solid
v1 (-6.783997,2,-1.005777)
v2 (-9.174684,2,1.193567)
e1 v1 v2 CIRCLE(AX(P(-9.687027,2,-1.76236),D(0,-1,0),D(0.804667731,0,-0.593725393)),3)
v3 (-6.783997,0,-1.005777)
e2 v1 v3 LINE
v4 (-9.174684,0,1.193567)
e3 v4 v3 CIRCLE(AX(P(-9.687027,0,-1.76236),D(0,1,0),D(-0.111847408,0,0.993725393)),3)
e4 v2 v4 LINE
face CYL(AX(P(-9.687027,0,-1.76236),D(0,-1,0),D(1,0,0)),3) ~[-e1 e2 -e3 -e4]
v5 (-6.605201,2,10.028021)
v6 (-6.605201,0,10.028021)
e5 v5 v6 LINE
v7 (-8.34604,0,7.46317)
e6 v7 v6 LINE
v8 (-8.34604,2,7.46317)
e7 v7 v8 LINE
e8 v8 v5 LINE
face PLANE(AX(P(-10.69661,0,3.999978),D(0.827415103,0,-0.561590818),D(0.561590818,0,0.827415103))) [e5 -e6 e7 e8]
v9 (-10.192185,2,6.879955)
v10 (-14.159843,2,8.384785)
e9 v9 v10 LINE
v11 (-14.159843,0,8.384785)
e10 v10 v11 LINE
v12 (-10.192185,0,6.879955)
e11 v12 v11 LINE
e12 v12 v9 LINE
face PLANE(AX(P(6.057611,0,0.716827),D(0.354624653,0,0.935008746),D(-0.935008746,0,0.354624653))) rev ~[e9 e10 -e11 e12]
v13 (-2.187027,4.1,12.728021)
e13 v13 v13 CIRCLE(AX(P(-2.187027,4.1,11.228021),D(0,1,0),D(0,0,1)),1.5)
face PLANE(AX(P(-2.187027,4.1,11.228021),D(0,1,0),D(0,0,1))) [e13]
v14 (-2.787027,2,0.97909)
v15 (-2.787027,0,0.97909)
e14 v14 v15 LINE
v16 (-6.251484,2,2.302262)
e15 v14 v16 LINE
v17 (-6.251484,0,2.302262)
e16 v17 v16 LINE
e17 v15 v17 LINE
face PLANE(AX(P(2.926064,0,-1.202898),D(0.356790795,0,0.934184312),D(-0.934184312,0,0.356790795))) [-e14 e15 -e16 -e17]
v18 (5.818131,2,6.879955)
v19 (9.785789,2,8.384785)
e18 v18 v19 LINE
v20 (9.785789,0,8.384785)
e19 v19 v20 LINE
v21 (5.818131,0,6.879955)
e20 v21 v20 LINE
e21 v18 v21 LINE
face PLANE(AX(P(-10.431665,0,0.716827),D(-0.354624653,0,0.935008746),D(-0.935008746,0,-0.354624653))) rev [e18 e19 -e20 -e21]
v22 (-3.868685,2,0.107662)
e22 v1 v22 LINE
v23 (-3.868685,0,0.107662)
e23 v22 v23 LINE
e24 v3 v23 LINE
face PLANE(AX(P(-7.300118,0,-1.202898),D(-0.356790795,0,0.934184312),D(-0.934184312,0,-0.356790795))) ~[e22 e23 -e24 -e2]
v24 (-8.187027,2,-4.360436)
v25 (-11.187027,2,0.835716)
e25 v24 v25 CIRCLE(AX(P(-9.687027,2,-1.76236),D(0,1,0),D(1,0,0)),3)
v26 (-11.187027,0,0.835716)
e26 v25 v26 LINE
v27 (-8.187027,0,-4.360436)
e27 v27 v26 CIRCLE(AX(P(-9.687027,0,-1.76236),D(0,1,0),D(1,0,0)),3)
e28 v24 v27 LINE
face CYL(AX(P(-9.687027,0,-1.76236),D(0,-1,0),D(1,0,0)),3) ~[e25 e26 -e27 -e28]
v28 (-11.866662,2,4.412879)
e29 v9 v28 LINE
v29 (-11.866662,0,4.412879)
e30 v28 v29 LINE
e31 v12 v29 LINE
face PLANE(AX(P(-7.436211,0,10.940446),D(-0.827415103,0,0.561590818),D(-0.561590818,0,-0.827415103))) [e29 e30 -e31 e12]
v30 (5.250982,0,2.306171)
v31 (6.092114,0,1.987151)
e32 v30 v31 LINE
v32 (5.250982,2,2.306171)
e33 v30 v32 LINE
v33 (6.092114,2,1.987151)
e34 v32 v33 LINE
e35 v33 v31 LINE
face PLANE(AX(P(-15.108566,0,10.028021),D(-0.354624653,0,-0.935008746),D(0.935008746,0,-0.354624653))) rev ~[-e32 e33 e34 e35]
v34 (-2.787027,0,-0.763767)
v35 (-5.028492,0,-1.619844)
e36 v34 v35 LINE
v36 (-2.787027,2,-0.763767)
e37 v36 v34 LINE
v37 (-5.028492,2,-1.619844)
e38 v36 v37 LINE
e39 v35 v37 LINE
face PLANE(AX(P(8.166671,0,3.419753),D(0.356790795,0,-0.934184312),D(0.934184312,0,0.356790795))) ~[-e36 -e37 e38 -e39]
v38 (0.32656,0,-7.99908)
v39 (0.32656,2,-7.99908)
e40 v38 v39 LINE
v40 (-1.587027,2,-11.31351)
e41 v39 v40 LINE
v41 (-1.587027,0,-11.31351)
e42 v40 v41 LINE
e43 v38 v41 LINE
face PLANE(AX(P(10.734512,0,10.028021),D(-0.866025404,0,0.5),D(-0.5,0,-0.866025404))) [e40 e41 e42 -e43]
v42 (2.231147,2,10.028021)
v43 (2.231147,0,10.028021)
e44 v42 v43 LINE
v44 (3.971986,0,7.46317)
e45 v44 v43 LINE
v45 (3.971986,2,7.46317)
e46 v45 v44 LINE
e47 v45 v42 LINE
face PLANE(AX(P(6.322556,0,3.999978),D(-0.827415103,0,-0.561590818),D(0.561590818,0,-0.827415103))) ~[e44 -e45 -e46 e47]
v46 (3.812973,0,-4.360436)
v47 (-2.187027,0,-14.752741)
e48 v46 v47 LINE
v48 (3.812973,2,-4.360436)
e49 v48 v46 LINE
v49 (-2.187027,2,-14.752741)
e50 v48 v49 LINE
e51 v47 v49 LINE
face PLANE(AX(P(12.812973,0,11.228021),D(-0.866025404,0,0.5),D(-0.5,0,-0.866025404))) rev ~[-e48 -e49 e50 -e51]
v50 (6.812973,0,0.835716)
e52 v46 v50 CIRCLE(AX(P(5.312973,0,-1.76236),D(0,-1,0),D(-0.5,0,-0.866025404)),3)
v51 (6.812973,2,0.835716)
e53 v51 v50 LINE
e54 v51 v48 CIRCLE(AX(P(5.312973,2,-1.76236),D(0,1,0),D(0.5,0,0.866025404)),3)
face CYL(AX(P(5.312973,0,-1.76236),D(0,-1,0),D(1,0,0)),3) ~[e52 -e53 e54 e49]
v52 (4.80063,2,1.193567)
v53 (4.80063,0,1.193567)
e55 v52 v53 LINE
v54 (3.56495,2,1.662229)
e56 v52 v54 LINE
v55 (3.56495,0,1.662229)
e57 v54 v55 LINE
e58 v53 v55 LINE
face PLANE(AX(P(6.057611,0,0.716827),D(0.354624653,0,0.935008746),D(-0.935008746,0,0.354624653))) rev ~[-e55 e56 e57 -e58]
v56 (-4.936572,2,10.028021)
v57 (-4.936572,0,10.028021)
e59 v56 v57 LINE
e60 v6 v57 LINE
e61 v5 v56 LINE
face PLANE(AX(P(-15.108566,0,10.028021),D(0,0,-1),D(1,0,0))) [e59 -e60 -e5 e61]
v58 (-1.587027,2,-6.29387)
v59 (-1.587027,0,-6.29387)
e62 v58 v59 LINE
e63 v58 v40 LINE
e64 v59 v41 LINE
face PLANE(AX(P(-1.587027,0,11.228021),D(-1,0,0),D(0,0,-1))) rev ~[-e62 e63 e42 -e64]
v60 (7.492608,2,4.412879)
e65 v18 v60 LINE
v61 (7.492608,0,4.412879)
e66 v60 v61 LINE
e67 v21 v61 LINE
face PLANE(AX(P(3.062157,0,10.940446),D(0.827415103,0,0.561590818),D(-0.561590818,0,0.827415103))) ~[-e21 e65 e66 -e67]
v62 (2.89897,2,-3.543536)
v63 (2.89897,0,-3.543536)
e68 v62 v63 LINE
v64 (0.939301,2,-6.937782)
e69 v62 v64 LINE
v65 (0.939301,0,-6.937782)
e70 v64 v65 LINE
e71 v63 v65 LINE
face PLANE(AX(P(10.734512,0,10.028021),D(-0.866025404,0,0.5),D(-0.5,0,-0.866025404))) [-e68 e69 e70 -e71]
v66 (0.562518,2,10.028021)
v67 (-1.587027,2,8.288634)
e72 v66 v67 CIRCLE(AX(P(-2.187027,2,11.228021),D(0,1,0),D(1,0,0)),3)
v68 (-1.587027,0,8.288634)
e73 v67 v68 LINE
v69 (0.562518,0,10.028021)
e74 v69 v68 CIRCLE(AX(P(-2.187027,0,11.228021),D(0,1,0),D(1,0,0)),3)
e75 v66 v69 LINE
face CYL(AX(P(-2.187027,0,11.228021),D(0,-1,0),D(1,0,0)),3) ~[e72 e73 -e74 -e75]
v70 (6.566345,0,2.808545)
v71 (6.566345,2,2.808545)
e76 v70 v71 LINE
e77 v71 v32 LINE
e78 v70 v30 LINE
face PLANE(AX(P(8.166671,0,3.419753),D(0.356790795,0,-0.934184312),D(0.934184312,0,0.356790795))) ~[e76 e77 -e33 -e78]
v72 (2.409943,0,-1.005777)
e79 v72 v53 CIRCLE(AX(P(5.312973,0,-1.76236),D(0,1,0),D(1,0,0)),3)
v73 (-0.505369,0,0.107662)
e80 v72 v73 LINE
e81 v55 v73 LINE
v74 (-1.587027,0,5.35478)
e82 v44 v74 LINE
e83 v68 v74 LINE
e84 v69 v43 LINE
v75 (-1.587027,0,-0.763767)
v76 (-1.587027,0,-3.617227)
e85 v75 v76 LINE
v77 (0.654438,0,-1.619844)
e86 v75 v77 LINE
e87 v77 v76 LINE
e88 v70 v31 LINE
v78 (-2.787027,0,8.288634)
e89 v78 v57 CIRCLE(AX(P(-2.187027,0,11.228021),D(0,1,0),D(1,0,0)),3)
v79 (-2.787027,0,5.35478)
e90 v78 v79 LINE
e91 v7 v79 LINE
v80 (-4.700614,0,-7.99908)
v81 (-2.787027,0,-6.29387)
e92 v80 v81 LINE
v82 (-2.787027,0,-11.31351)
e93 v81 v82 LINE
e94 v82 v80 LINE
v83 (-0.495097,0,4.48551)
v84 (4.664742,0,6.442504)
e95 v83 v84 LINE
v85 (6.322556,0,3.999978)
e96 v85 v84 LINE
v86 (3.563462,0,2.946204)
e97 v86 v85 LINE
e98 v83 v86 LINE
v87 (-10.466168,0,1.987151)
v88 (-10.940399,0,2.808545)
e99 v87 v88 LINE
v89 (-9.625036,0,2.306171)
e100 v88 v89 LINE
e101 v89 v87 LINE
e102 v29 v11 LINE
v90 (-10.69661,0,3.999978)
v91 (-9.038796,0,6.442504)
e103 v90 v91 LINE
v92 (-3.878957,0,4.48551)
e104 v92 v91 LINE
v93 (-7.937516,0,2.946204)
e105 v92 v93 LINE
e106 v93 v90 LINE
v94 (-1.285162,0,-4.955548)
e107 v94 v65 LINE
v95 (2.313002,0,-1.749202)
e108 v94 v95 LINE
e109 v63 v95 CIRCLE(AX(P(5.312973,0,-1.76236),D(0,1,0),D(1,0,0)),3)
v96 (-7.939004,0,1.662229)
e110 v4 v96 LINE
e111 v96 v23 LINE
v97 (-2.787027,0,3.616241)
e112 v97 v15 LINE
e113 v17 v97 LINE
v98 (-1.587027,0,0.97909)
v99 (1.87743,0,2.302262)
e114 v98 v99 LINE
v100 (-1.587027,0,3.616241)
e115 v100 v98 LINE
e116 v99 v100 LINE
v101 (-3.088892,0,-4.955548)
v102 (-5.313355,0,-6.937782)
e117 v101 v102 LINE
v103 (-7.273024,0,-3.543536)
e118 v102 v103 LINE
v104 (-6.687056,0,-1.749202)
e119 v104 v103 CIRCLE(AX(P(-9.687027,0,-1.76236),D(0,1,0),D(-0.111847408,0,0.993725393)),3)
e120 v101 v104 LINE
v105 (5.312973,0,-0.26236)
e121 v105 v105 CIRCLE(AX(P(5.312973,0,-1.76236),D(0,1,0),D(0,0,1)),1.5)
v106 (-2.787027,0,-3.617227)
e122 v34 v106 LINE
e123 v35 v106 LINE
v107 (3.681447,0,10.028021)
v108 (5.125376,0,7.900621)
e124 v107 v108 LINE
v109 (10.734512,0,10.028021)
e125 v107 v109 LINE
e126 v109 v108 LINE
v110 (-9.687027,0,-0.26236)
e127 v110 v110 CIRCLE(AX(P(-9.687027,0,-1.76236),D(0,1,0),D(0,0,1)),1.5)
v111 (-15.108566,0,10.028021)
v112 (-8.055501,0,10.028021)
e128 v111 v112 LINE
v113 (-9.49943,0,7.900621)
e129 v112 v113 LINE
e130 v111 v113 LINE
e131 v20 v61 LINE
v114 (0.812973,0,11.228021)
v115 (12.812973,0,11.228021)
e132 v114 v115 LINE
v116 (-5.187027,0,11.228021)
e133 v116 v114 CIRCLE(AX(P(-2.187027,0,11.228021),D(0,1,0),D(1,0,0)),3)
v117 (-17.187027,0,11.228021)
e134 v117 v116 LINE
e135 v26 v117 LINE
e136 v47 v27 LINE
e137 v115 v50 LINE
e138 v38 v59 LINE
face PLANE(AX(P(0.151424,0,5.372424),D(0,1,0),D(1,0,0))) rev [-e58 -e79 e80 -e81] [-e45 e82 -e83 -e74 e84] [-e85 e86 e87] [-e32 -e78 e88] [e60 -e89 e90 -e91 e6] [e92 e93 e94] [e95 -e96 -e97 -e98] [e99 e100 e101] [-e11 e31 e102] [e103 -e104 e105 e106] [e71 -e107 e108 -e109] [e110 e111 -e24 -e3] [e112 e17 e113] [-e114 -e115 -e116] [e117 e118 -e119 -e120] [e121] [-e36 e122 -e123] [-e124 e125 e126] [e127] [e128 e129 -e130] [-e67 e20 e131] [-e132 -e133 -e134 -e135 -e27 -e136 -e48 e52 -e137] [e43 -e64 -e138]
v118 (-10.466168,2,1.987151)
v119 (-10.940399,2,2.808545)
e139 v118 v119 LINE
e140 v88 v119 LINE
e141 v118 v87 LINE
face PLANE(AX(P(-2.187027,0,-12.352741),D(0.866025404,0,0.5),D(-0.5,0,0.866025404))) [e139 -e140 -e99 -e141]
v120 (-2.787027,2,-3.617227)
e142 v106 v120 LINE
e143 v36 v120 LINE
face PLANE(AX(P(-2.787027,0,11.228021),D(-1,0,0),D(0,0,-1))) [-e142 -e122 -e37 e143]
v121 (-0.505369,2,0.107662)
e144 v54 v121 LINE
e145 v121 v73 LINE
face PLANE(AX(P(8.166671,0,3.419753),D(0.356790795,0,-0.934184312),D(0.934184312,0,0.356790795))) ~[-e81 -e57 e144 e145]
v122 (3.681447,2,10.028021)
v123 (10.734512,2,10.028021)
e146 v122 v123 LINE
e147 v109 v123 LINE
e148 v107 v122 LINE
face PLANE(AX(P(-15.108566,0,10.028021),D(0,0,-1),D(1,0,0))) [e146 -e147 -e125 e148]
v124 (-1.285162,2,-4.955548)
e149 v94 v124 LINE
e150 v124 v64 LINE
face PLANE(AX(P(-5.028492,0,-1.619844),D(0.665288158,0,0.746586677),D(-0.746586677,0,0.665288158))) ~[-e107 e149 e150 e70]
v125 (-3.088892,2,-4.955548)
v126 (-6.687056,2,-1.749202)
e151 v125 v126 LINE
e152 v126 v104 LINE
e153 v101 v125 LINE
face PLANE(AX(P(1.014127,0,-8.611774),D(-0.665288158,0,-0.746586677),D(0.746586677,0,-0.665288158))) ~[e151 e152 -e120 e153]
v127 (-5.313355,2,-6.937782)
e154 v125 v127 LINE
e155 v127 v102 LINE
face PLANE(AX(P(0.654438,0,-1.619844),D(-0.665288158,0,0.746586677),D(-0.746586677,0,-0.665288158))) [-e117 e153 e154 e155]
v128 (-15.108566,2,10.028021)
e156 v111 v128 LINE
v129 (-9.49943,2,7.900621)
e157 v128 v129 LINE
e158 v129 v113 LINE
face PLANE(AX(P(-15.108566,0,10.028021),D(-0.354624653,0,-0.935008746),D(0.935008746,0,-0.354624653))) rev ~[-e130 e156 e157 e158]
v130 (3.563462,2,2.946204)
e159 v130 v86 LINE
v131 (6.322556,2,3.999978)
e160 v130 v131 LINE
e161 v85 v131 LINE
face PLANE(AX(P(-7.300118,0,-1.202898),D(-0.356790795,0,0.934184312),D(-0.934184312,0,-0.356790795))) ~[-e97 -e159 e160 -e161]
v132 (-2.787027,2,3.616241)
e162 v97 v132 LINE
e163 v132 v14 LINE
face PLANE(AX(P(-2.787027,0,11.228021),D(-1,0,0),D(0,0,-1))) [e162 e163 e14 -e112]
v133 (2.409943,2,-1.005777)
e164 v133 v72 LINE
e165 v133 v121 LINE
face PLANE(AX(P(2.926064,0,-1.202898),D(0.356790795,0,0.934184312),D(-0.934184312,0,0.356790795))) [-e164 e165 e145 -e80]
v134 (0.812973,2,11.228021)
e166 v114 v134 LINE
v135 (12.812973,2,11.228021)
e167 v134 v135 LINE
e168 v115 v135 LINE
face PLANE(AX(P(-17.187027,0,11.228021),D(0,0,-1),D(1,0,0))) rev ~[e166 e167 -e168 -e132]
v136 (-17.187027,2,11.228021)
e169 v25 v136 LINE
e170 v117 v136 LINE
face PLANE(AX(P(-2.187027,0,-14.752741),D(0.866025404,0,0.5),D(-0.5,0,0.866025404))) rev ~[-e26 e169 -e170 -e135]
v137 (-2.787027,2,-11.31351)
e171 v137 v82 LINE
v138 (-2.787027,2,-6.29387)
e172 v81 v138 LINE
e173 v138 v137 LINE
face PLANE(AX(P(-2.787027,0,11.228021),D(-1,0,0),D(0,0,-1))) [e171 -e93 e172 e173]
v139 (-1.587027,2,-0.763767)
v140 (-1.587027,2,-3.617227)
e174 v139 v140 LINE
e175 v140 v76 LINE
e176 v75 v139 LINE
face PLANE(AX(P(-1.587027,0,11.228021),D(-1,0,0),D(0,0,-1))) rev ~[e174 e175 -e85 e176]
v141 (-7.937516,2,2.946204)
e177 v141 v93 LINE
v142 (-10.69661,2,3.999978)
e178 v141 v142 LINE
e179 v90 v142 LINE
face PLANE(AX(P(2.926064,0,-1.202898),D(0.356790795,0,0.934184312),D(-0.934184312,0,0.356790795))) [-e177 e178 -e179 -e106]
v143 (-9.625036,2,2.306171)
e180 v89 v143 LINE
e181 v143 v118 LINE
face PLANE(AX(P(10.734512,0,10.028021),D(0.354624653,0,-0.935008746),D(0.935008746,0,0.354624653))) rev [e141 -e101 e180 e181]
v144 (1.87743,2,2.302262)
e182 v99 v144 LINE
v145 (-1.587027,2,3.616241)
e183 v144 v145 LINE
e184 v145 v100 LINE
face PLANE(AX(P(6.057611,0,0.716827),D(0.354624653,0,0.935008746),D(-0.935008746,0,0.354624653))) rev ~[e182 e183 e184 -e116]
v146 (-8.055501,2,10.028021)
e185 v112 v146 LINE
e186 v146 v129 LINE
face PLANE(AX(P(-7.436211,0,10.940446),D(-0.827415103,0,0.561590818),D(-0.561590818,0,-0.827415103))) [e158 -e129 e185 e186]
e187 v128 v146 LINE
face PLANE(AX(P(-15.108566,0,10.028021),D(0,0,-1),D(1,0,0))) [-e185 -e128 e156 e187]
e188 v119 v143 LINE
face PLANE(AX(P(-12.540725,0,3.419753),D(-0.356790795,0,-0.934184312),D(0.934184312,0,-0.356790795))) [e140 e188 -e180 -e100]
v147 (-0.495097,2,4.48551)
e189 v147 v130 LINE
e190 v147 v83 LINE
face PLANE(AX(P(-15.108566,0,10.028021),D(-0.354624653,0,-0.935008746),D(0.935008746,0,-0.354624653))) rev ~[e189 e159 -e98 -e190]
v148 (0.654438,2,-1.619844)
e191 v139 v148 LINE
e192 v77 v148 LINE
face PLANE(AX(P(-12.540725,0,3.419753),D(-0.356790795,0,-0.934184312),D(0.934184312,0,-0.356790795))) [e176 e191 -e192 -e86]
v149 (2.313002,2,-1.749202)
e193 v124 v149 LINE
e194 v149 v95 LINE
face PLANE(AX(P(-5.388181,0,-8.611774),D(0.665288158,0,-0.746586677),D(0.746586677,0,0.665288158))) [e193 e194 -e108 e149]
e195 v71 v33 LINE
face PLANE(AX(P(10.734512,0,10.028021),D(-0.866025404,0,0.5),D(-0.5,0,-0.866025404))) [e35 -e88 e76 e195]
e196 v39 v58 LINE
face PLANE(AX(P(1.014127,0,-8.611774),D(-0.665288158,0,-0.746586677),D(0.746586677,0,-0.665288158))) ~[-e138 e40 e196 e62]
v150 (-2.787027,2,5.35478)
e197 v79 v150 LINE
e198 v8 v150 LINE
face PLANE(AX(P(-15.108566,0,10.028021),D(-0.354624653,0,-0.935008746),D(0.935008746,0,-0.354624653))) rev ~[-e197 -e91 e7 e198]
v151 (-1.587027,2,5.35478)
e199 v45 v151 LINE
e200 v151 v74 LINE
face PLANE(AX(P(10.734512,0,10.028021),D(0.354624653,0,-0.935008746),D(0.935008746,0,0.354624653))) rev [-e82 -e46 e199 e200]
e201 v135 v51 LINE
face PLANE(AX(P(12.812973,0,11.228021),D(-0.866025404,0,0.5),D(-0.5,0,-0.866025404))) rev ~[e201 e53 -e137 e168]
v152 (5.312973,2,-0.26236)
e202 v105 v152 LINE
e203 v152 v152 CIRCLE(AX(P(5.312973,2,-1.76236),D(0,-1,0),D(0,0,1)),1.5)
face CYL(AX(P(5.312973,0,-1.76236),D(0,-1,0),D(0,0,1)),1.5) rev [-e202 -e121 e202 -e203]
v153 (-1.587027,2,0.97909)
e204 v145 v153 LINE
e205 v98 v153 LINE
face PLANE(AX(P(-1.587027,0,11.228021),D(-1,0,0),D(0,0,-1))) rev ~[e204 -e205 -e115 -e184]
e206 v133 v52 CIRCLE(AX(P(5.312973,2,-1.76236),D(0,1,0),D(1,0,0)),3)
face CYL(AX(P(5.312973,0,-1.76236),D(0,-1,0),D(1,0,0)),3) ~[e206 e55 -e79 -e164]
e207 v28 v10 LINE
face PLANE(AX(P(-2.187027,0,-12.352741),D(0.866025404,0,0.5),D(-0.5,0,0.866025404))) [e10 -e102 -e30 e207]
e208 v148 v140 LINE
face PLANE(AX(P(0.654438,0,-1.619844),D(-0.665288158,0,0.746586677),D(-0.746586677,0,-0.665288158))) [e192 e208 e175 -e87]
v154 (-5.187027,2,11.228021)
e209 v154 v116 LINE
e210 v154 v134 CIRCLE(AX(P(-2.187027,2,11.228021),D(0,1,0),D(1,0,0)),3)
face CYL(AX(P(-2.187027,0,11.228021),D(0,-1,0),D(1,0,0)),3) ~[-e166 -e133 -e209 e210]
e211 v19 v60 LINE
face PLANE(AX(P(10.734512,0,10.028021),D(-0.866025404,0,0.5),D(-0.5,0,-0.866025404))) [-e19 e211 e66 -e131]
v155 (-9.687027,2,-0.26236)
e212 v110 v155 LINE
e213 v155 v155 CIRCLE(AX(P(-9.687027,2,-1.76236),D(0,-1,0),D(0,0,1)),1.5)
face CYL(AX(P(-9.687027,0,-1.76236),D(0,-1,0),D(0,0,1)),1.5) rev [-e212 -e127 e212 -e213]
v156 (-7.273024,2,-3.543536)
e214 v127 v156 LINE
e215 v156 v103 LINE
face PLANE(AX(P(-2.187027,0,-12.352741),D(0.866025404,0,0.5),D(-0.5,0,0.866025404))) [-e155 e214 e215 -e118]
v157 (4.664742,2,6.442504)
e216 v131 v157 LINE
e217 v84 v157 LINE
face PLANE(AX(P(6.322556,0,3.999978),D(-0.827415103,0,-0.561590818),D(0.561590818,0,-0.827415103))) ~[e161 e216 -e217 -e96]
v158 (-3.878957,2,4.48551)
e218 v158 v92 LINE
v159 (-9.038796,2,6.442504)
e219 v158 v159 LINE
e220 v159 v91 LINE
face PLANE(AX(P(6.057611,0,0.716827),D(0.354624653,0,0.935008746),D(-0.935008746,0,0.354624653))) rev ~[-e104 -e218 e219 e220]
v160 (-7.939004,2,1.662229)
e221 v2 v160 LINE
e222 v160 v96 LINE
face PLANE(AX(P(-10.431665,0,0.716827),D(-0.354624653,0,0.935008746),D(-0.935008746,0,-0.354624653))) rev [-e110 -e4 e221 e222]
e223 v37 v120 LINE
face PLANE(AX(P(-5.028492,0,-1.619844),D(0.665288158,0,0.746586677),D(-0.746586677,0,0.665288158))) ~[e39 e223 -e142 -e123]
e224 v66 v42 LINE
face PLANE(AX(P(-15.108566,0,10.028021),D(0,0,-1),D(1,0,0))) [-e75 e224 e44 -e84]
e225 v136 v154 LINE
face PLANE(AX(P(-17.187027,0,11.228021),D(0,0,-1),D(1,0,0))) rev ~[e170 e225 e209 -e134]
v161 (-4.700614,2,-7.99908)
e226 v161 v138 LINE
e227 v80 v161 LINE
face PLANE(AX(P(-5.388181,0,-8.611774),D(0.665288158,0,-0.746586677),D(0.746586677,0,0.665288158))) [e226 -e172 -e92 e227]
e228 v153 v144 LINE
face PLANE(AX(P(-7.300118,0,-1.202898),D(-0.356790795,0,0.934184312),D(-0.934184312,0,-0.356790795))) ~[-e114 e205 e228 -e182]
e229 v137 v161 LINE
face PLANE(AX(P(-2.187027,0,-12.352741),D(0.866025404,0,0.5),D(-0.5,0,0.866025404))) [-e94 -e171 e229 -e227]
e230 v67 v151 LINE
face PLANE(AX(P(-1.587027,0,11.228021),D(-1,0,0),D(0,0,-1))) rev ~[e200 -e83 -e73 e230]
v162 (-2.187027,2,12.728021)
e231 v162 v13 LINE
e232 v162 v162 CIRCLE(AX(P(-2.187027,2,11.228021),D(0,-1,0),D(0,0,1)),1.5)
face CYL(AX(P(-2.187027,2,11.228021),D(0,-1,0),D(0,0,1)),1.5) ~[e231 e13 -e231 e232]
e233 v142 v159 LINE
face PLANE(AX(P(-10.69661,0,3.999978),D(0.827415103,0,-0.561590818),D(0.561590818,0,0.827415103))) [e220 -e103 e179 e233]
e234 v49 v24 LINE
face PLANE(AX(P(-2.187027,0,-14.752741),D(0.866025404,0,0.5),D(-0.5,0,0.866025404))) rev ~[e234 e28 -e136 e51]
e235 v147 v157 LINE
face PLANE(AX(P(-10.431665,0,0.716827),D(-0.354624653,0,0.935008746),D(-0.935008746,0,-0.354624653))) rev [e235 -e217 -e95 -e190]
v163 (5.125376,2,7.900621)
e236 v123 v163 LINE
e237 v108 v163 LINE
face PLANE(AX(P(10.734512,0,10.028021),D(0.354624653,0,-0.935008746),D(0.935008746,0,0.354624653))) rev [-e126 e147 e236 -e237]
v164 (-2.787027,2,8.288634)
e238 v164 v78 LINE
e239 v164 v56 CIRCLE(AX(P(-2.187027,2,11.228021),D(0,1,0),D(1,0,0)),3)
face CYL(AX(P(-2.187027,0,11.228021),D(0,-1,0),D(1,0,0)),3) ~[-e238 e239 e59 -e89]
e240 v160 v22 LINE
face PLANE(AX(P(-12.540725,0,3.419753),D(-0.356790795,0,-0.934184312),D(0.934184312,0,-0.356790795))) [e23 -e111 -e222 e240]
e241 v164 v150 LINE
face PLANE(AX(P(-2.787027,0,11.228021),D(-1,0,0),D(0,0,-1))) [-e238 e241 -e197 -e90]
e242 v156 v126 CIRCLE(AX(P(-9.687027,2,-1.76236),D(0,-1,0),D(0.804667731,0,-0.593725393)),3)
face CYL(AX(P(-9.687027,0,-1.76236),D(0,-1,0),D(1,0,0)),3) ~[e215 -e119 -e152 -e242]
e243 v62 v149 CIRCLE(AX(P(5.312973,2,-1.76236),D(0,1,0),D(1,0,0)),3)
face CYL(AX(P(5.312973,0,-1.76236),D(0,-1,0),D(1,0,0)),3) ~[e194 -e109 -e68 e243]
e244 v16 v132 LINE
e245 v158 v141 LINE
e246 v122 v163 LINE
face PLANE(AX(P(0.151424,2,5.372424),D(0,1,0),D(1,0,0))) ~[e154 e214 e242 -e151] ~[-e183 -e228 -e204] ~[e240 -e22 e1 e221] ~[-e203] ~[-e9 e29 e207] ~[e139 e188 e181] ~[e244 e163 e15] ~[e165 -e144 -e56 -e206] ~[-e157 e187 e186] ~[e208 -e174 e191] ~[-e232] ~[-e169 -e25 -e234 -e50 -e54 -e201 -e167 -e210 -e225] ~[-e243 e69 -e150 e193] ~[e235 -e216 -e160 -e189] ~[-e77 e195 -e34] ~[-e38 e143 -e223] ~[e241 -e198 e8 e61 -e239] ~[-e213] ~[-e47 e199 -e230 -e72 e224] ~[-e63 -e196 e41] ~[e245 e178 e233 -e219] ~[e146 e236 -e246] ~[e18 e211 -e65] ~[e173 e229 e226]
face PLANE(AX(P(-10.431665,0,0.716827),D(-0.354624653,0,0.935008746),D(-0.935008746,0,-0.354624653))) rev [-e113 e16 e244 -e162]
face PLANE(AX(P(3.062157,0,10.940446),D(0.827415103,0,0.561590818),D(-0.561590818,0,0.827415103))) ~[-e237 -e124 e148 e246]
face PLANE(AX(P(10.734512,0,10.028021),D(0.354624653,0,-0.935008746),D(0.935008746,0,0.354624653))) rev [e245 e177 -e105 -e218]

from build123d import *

# Parameters (mm, degrees)
EXTRUDE_THIN1_DEPTH = 2
SKETCH2_R           = 3
BOSS_EXTRUDE1_DEPTH = 2
SKETCH3_R           = 1.5
CUT_EXTRUDE1_DEPTH  = 23.73845331
SKETCH4_R           = 1.5
BOSS_EXTRUDE2_DEPTH = 2.1
EXTRUDE_THIN2_DEPTH = 2
EXTRUDE_THIN3_DEPTH = 2
SKETCH7_W           = 1.2
SKETCH7_H           = 23.975911633
EXTRUDE_THIN4_DEPTH = 2


with BuildPart() as part:
    # Sketch1 → Extrude-Thin1 (new body)
    with BuildSketch(Plane(origin=(0, 0, 0), x_dir=(1, 0, 0), z_dir=(0, 1, 0))):
        Polygon((-2.187026997, 14.752740827), (-17.187026997, -11.228021286), (12.812973003, -11.228021286), align=None)
        Polygon((-2.187026997, 12.352740827), (-15.108566028, -10.028021286), (10.734512034, -10.028021286), align=None, mode=Mode.SUBTRACT)
    extrude(amount=EXTRUDE_THIN1_DEPTH)

    # Sketch2 → Boss-Extrude1 (add)
    with BuildSketch(Plane(origin=(0, 0, 0), x_dir=(1, 0, 0), z_dir=(0, 1, 0))):
        with Locations((-9.687026997, 1.76235977)):
            Circle(SKETCH2_R)
        with Locations((5.312973003, 1.76235977)):
            Circle(SKETCH2_R)
        with Locations((-2.187026997, -11.228021286)):
            Circle(SKETCH2_R)
    extrude(amount=BOSS_EXTRUDE1_DEPTH)

    # Sketch3 → Cut-Extrude1 (cut, through all)
    with BuildSketch(Plane(origin=(0, 0, 0), x_dir=(1, 0, 0), z_dir=(0, 1, 0))):
        with Locations(Location((-9.687026997, 1.76235977, 0), (0, 0, 270))):
            Circle(SKETCH3_R)
        with Locations(Location((5.312973003, 1.76235977, 0), (0, 0, 270))):
            Circle(SKETCH3_R)
    extrude(amount=CUT_EXTRUDE1_DEPTH, mode=Mode.SUBTRACT)

    # Sketch4 → Boss-Extrude2 (add)
    with BuildSketch(Plane(origin=(0, 2, 0), x_dir=(1, 0, 0), z_dir=(0, 1, 0))):
        with Locations(Location((-2.187026997, -11.228021286, 0), (0, 0, 270))):
            Circle(SKETCH4_R)
    extrude(amount=BOSS_EXTRUDE2_DEPTH)

    # Sketch5 → Extrude-Thin2 (add)
    with BuildSketch(Plane(origin=(0, 0, 0), x_dir=(1, 0, 0), z_dir=(0, 1, 0))):
        Polygon((-5.388180626, 8.61177443), (2.926064281, 1.202897678), (-10.696610006, -3.999977956), (-6.443313294, -10.266536854), (-7.436211418, -10.940445836), (-12.540725216, -3.419753411), (0.654437519, 1.619843752), (-6.186526415, 7.715870417), align=None)
    extrude_thin2 = extrude(amount=EXTRUDE_THIN2_DEPTH)

    # Sketch6 → Extrude-Thin3 (add)
    with BuildSketch(Plane(origin=(0, 0, 0), x_dir=(1, 0, 0), z_dir=(0, 1, 0))):
        Polygon((-15.108566028, -10.028021286), (6.483160233, -1.838837543), (6.05761065, -0.716827048), (-15.534115611, -8.906010791), align=None)
    extrude_thin3 = extrude(amount=EXTRUDE_THIN3_DEPTH)

    # Mirror1: Extrude-Thin2, Extrude-Thin3 across plane
    add(extrude_thin2.mirror(Plane(origin=(-2.187026997, 0, 0), x_dir=(0, 0, 1), z_dir=(1, 0, 0))))
    add(extrude_thin3.mirror(Plane(origin=(-2.187026997, 0, 0), x_dir=(0, 0, 1), z_dir=(1, 0, 0))))

    # Sketch7 → Extrude-Thin4 (add)
    with BuildSketch(Plane(origin=(0, 0, 0), x_dir=(1, 0, 0), z_dir=(0, 1, 0))):
        with Locations((-2.187026997, 0.75993453)):
            Rectangle(SKETCH7_W, SKETCH7_H)
    extrude(amount=EXTRUDE_THIN4_DEPTH)


solid = part.part
